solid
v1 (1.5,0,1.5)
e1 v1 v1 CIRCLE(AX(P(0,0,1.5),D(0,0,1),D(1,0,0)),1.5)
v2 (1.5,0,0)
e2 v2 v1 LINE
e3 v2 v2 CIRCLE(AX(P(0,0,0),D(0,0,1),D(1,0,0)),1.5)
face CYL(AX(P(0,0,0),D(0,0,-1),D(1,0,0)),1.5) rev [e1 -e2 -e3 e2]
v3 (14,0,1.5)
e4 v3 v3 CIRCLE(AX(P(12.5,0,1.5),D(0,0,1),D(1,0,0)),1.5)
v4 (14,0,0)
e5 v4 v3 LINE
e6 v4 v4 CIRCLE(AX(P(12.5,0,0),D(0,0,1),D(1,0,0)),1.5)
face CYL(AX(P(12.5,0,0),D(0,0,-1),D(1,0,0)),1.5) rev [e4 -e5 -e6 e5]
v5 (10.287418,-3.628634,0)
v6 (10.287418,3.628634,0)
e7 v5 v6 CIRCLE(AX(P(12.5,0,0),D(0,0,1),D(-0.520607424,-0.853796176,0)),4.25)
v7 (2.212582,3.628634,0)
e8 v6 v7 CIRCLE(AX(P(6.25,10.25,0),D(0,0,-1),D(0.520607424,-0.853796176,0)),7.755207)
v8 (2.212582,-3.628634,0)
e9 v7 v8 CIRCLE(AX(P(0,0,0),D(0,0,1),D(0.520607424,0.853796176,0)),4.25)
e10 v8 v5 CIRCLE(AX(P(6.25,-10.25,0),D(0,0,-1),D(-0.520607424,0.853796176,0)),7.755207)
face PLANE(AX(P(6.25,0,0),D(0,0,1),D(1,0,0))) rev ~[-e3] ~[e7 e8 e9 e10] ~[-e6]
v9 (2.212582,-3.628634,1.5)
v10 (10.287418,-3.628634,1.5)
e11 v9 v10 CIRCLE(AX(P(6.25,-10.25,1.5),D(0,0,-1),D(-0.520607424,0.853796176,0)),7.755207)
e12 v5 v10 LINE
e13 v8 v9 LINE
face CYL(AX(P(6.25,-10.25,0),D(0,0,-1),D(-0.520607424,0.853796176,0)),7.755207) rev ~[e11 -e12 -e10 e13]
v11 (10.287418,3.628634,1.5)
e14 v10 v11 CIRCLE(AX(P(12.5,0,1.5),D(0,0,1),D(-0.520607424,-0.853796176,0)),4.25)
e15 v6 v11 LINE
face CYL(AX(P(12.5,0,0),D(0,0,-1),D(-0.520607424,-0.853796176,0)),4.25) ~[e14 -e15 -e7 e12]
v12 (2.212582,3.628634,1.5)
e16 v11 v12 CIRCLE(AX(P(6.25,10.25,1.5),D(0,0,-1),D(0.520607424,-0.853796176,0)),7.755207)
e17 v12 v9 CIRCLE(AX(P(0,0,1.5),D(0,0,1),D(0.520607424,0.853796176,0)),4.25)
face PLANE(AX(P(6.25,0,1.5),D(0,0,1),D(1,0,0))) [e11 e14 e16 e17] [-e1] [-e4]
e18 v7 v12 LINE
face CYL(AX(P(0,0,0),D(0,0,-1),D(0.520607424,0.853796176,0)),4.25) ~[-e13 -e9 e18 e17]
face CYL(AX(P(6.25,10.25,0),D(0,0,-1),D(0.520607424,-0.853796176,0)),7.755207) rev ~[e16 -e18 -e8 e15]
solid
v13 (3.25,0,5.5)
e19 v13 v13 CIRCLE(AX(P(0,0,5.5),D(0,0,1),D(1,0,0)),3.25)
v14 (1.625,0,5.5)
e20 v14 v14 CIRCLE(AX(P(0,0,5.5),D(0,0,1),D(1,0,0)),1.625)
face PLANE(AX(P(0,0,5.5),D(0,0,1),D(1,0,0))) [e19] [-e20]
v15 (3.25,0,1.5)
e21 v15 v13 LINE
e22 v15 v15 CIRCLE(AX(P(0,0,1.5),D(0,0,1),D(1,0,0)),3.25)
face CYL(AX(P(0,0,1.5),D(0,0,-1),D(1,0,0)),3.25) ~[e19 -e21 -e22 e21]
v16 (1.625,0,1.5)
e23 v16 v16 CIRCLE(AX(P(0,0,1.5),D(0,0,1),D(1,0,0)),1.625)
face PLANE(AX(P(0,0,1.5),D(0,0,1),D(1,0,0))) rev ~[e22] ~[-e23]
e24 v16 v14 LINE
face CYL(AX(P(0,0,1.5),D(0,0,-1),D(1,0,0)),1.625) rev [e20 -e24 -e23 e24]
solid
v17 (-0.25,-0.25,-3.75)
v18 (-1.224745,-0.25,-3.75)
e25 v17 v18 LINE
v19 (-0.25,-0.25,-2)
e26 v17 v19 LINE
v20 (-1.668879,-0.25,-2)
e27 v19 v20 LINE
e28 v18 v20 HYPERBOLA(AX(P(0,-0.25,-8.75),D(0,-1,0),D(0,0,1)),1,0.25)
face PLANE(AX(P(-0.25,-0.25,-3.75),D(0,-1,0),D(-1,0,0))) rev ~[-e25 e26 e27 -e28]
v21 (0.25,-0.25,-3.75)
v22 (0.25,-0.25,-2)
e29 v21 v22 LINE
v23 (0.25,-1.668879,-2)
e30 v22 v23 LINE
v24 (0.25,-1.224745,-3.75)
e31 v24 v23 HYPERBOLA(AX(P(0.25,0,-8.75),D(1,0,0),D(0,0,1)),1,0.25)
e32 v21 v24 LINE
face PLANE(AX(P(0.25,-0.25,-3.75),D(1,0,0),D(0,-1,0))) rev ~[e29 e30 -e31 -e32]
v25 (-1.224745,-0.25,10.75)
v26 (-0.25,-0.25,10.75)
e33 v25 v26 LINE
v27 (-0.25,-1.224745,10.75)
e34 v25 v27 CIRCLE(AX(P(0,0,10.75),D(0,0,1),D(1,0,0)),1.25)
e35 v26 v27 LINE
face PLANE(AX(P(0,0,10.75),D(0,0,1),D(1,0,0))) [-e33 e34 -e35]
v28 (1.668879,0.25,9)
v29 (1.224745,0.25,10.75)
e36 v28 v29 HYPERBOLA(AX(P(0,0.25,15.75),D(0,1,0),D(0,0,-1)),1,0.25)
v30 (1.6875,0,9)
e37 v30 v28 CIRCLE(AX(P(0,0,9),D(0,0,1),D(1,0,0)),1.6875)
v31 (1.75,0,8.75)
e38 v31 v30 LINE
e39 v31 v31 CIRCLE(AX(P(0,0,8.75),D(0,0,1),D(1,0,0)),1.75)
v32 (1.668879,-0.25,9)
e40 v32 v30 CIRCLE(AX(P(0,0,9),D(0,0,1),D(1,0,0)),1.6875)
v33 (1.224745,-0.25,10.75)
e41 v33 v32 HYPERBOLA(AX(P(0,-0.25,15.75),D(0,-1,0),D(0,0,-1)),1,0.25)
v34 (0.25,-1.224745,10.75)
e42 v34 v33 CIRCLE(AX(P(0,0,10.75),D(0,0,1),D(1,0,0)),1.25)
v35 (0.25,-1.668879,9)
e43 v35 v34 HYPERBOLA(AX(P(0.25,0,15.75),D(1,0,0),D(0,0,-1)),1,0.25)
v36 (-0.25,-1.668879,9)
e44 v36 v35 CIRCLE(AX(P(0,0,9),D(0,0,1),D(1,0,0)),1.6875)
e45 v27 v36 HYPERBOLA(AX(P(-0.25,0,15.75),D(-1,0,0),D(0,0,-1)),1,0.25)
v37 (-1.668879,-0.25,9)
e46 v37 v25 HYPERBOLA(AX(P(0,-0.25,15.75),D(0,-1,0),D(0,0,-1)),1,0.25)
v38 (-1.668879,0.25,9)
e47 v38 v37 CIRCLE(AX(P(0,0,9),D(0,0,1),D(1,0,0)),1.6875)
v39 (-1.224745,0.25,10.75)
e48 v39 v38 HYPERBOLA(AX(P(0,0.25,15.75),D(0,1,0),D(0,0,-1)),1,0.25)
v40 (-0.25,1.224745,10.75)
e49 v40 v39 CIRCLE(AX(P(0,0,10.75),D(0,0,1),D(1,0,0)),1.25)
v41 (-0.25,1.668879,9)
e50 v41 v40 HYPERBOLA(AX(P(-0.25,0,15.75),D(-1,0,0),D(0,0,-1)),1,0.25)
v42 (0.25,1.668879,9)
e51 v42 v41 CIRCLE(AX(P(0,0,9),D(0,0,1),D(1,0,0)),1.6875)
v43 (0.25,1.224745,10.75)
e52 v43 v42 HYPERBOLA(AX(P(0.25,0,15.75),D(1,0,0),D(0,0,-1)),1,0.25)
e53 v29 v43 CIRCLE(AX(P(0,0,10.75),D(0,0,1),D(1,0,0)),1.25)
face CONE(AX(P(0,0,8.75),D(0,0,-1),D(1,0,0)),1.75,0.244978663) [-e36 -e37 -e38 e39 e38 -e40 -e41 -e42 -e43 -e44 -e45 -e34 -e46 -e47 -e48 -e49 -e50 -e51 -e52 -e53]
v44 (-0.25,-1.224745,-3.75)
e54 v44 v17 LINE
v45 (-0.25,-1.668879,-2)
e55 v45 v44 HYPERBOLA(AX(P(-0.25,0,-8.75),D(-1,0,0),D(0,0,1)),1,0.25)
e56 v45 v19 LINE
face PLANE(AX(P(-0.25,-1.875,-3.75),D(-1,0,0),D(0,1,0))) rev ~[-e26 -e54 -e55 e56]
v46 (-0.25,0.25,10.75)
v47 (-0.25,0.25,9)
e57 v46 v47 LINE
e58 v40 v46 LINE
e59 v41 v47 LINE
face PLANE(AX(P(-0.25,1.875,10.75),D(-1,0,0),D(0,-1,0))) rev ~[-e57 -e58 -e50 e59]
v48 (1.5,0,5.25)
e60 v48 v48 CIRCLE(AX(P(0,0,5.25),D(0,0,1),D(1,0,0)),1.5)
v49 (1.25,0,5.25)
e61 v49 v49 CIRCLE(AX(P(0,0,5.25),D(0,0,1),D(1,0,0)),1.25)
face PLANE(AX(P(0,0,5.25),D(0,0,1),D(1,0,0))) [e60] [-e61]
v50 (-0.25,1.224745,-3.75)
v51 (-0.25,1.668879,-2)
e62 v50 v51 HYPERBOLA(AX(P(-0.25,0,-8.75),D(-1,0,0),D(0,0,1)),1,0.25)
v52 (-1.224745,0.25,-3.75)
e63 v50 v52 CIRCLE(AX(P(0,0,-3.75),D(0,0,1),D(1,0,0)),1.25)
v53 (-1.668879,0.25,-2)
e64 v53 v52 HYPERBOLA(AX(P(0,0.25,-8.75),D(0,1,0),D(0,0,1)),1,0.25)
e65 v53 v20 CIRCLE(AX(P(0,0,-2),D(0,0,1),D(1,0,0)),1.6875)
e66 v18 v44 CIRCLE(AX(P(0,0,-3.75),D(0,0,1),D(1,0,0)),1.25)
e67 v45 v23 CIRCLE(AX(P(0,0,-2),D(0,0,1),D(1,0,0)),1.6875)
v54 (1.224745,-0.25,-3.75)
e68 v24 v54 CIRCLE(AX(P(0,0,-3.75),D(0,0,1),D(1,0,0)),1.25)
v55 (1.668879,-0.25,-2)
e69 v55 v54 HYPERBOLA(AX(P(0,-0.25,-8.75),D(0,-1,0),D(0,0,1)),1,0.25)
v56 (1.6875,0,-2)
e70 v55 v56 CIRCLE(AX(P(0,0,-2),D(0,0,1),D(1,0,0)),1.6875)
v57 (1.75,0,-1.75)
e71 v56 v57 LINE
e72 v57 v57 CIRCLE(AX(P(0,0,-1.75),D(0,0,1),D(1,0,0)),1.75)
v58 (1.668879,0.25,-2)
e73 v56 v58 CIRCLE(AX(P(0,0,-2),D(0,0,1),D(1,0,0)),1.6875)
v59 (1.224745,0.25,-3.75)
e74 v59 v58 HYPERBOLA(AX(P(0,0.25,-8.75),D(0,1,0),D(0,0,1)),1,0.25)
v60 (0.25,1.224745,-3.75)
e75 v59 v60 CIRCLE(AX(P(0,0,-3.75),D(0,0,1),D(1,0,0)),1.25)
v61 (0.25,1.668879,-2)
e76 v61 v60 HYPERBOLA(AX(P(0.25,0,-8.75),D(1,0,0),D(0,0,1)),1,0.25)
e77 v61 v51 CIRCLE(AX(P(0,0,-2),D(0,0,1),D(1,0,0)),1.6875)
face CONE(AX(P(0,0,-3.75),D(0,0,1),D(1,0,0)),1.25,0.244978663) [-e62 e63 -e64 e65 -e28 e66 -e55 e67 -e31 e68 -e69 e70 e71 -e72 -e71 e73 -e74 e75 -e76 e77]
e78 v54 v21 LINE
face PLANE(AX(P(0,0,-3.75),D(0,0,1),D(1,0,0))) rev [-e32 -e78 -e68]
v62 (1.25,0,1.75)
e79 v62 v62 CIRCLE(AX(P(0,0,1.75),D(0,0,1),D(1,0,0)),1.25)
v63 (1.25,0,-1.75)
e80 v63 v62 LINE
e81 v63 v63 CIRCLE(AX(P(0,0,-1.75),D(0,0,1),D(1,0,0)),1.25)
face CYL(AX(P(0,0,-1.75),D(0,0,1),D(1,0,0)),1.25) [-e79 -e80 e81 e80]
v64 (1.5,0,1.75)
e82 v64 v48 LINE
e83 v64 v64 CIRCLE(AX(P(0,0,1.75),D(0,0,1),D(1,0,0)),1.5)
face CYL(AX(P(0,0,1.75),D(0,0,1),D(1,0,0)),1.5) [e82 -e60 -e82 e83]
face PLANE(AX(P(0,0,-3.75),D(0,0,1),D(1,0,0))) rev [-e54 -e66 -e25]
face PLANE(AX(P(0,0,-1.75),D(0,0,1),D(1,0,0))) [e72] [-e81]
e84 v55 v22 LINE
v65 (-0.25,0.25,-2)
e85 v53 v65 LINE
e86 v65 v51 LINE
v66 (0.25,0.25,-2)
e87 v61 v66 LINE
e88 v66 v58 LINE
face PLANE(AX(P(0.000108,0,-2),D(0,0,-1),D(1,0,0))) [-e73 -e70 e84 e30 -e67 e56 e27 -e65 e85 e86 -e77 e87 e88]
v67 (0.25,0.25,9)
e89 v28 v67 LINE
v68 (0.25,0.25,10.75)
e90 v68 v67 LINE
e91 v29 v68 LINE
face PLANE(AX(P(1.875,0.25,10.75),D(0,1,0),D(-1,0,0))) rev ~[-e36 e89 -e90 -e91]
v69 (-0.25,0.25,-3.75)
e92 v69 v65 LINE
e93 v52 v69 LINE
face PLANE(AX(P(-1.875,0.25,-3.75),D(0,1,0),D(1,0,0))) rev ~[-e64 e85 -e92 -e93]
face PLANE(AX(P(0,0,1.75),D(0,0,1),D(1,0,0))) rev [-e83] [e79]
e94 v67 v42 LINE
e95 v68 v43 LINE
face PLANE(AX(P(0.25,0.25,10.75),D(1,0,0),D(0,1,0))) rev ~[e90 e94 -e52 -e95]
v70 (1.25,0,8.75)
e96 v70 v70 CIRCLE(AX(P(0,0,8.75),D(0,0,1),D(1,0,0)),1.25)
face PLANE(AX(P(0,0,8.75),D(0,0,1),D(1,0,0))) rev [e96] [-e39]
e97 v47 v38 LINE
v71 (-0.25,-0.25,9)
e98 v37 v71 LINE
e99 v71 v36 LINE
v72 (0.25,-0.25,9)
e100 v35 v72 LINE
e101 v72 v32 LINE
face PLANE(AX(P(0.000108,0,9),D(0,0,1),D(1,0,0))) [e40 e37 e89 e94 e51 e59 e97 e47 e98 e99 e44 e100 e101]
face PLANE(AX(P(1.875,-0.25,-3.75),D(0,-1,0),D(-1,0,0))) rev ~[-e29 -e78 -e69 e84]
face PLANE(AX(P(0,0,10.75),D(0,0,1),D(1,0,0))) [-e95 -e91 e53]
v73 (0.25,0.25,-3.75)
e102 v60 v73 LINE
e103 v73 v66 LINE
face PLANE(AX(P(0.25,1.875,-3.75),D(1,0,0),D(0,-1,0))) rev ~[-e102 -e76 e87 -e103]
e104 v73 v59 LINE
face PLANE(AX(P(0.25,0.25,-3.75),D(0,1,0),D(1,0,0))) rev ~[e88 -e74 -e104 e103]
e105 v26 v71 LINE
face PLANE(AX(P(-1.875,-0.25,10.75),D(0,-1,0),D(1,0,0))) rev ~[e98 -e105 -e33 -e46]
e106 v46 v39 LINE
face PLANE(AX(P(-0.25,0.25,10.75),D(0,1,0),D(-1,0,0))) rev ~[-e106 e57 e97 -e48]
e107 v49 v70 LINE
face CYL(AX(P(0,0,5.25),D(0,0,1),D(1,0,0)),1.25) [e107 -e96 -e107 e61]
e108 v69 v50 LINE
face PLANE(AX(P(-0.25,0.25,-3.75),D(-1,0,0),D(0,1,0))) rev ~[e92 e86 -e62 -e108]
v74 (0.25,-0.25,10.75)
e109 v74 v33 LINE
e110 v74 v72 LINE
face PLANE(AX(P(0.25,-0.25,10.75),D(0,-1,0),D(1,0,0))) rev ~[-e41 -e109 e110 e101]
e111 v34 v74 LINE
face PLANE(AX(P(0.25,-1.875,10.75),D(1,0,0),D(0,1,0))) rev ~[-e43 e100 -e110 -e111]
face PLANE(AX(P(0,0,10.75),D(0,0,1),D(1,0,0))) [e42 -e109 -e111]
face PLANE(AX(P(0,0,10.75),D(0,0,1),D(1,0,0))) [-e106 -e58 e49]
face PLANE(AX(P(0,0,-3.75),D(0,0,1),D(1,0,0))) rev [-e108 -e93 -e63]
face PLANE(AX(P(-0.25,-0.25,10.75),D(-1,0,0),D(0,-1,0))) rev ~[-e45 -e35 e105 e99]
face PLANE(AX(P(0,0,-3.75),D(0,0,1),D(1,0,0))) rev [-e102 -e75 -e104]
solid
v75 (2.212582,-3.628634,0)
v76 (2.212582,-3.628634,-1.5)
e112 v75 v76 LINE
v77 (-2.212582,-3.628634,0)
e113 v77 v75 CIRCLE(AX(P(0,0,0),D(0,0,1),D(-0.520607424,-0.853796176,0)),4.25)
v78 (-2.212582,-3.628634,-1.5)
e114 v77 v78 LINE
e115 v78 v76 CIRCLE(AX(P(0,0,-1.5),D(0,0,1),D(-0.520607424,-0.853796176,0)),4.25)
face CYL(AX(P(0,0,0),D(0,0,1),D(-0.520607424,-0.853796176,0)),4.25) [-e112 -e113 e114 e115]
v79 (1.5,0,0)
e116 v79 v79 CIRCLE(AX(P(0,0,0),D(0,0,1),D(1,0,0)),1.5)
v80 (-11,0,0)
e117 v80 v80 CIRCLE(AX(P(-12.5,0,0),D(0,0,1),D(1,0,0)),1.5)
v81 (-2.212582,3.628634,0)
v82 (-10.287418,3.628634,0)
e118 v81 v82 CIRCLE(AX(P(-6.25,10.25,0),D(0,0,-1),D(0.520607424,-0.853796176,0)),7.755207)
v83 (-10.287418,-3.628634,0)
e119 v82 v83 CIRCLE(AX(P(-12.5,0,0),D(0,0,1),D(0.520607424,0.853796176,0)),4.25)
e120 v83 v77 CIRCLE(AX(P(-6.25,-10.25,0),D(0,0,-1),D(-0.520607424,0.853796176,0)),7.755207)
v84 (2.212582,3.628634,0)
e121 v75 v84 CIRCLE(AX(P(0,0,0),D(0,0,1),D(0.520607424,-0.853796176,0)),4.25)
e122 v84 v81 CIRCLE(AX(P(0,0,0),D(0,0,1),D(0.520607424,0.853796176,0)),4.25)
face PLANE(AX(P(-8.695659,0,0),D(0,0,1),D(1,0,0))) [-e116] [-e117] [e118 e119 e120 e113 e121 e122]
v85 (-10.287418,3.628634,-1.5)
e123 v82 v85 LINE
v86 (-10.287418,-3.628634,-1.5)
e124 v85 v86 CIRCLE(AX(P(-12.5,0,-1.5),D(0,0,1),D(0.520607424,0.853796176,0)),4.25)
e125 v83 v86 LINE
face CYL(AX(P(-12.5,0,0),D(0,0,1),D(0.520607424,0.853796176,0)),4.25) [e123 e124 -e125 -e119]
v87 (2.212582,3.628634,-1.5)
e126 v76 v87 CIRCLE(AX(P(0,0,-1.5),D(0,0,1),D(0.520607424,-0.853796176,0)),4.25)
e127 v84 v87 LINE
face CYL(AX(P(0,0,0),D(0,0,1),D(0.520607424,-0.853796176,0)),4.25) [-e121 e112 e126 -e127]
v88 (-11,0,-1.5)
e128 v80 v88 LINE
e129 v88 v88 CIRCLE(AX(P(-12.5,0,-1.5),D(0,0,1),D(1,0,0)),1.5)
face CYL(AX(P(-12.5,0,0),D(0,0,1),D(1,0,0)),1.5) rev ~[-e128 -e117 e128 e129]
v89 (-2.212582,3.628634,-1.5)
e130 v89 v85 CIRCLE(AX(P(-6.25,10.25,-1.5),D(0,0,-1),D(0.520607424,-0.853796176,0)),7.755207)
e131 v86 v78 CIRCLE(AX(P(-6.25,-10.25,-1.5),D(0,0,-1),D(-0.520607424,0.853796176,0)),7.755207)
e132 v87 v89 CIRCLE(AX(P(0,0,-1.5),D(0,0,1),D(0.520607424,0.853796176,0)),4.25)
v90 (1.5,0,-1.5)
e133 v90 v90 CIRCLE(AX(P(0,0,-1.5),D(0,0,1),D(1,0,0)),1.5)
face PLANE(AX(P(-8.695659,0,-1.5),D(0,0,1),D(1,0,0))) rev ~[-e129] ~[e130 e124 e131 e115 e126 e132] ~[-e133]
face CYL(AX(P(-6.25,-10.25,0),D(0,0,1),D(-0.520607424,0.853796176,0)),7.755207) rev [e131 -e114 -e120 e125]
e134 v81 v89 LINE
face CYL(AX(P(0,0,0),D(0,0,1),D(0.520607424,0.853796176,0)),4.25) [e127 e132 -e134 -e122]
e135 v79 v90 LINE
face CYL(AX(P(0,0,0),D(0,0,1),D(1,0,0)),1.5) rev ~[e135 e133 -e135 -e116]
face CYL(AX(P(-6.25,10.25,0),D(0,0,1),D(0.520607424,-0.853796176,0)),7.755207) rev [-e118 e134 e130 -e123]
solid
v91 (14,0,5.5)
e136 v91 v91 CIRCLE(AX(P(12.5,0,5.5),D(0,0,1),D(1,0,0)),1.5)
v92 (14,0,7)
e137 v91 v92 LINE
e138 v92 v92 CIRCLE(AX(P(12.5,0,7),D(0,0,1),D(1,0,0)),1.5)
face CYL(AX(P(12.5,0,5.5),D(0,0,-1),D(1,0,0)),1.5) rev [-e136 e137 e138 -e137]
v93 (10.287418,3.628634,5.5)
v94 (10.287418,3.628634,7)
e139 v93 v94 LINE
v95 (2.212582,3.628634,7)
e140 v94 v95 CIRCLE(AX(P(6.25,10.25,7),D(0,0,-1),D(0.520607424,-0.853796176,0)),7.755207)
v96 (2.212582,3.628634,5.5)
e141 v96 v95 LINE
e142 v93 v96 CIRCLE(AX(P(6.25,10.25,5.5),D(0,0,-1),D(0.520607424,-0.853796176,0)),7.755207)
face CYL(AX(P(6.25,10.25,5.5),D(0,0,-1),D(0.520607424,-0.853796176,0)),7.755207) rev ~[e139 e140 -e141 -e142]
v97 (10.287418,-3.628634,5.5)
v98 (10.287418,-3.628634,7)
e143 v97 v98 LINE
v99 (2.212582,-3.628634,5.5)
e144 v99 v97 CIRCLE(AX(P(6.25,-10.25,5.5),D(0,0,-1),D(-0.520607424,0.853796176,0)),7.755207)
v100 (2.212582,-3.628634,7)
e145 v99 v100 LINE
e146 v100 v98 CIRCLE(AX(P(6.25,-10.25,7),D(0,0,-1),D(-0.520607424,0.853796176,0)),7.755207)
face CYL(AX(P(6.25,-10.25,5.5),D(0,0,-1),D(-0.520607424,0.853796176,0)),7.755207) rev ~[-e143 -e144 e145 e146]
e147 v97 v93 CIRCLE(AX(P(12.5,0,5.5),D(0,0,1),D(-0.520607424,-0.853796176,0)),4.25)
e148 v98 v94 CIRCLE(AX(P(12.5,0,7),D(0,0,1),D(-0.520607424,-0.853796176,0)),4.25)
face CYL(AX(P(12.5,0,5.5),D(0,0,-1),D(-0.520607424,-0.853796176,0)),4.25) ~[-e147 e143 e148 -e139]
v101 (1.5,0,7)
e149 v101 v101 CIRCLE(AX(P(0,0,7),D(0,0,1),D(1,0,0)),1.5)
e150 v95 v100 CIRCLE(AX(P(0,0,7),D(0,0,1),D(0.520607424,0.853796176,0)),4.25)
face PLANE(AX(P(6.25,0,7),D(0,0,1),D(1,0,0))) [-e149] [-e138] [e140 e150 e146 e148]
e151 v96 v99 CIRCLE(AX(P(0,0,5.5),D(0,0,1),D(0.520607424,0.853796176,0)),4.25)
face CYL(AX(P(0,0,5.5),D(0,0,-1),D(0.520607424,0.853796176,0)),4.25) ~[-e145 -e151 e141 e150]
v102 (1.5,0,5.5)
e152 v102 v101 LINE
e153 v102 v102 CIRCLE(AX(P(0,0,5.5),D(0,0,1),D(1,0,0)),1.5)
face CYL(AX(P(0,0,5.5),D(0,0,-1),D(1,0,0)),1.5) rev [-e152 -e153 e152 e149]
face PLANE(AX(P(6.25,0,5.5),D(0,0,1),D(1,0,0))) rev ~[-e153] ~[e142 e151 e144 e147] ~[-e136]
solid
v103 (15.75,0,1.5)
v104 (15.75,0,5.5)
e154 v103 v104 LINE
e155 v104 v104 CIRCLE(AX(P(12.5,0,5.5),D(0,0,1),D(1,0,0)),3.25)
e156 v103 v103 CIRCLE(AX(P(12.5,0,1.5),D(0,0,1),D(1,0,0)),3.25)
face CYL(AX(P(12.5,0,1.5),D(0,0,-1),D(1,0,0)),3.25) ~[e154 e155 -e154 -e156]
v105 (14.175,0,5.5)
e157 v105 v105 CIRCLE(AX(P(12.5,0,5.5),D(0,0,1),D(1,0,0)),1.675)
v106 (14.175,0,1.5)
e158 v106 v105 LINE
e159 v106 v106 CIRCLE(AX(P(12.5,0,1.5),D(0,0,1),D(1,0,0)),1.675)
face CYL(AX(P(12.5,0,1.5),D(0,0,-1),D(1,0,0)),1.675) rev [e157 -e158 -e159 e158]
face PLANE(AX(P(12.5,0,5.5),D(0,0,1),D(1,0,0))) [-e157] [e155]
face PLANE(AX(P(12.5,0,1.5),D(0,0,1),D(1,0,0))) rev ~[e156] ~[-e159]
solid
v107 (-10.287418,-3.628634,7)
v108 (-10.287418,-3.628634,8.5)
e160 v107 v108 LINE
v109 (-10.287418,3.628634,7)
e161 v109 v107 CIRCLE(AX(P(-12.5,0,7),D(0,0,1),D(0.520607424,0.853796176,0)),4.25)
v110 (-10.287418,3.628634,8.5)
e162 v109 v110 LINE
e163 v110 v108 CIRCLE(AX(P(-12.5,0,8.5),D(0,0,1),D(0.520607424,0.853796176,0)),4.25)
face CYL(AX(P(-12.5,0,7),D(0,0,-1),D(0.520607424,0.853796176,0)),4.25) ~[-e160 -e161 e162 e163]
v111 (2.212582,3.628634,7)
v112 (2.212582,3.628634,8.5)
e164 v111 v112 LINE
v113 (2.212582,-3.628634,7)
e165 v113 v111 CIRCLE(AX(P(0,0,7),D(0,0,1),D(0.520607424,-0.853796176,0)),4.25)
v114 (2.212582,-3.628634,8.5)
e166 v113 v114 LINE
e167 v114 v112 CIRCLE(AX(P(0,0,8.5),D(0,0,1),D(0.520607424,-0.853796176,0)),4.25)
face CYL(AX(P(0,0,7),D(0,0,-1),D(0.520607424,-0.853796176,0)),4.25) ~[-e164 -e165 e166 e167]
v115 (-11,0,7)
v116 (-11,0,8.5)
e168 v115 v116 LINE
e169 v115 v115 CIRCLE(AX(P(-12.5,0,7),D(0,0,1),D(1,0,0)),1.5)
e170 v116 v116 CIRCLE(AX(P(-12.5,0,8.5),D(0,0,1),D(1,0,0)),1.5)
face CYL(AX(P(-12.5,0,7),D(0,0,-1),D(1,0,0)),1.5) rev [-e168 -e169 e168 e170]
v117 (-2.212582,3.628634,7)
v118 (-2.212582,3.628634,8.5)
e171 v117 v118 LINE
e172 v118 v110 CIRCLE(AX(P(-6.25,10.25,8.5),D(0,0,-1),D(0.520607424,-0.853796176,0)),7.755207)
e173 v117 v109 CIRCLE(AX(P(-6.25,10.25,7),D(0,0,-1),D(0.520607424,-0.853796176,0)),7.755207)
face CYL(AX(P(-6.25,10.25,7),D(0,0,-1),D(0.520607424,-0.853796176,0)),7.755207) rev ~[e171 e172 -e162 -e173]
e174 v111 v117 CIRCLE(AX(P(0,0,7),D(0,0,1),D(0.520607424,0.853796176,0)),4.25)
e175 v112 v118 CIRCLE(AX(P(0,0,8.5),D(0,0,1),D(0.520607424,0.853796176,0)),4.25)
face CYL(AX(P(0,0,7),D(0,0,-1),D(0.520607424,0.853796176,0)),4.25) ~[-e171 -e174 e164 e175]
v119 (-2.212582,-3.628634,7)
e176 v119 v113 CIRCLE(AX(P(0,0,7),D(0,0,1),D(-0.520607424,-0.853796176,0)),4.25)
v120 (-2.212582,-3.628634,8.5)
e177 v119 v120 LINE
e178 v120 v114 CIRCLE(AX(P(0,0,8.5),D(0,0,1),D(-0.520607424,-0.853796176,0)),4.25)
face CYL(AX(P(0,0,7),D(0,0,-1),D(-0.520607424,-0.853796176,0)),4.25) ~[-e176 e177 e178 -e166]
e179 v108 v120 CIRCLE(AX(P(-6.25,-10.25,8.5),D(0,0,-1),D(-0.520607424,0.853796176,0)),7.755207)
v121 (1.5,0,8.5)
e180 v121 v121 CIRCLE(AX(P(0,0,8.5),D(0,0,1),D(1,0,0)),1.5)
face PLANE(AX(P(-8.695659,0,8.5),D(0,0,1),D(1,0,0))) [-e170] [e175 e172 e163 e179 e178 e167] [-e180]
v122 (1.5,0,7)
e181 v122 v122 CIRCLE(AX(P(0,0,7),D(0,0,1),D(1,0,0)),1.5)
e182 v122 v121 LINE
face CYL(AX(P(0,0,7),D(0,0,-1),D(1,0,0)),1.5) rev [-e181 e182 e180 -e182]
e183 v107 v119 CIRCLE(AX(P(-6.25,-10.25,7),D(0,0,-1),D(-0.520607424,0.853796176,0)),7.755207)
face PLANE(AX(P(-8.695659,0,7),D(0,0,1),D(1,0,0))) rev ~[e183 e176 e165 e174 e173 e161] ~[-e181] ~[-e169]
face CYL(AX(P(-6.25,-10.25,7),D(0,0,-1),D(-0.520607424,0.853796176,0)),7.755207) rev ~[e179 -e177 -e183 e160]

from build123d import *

# Parameters (mm, degrees)
F0_R      = 1.5
F1_DEPTH  = 1.5
F2_R      = 3.25
F2_R_2    = 1.625
F3_DEPTH  = 4
F2_R_3    = 1.675
F4_R      = 1.5
F5_DEPTH  = 1.5
F6_R      = 1.5
F7_DEPTH  = 1.5
F8_R      = 1.5
F9_DEPTH  = 1.5
F13_DEPTH = 1.75
F16_DEPTH = 1.75


with BuildPart() as f1:
    # F0 (on Top) → F1 (new body)
    with BuildSketch(Plane.XY):
        with BuildLine():
            ThreePointArc((10.2874184469, 3.6286337471), (6.25, 2.4947927965), (2.2125815531, 3.6286337471))
            ThreePointArc((2.2125815531, 3.6286337471), (-4.25, 0), (2.2125815531, -3.6286337471))
            ThreePointArc((2.2125815531, -3.6286337471), (6.25, -2.4947927965), (10.2874184469, -3.6286337471))
            ThreePointArc((10.2874184469, -3.6286337471), (16.75, 0), (10.2874184469, 3.6286337471))
        make_face()
        Circle(F0_R, mode=Mode.SUBTRACT)
        with Locations((12.5, 0)):
            Circle(F0_R, mode=Mode.SUBTRACT)
    extrude(amount=F1_DEPTH)


with BuildPart() as f3:
    # F2 (on face) → F3 (new body)
    with BuildSketch(Plane.XY.offset(1.5)):
        Circle(F2_R)
        Circle(F2_R_2, mode=Mode.SUBTRACT)
    extrude(amount=F3_DEPTH)


with BuildPart() as f3b:
    # F2 (on face) → F3, piece 2 (new body)
    with BuildSketch(Plane.XY.offset(1.5)):
        with Locations((12.5, 0)):
            Circle(F2_R)
        with Locations((12.5, 0)):
            Circle(F2_R_3, mode=Mode.SUBTRACT)
    extrude(amount=F3_DEPTH)


with BuildPart() as f5:
    # F4 (on face) → F5 (new body)
    with BuildSketch(Plane.XY.offset(5.5)):
        with BuildLine():
            ThreePointArc((10.2874184469, 3.6286337471), (6.25, 2.4947927965), (2.2125815531, 3.6286337471))
            ThreePointArc((2.2125815531, 3.6286337471), (-4.25, 0), (2.2125815531, -3.6286337471))
            ThreePointArc((2.2125815531, -3.6286337471), (6.25, -2.4947927965), (10.2874184469, -3.6286337471))
            ThreePointArc((10.2874184469, -3.6286337471), (16.75, 0), (10.2874184469, 3.6286337471))
        make_face()
        Circle(F4_R, mode=Mode.SUBTRACT)
        with Locations((12.5, 0)):
            Circle(F4_R, mode=Mode.SUBTRACT)
    extrude(amount=F5_DEPTH)


with BuildPart() as f7:
    # F6 (on face) → F7 (new body)
    with BuildSketch(Plane.XY.offset(7)):
        with BuildLine():
            ThreePointArc((-2.2125815531, 3.6286337471), (-6.25, 2.4947927965), (-10.2874184469, 3.6286337471))
            ThreePointArc((-10.2874184469, 3.6286337471), (-16.75, 0), (-10.2874184469, -3.6286337471))
            ThreePointArc((-10.2874184469, -3.6286337471), (-6.25, -2.4947927965), (-2.2125815531, -3.6286337471))
            ThreePointArc((-2.2125815531, -3.6286337471), (-4.25, 0), (-2.2125815531, 3.6286337471))
        make_face()
        with Locations((-12.5, 0)):
            Circle(F6_R, mode=Mode.SUBTRACT)
        with BuildLine():
            ThreePointArc((2.2125815531, 3.6286337471), (0, 4.25), (-2.2125815531, 3.6286337471))
            ThreePointArc((-2.2125815531, 3.6286337471), (-4.25, 0), (-2.2125815531, -3.6286337471))
            ThreePointArc((-2.2125815531, -3.6286337471), (0, -4.25), (2.2125815531, -3.6286337471))
            ThreePointArc((2.2125815531, -3.6286337471), (4.25, 0), (2.2125815531, 3.6286337471))
        make_face()
        Circle(F6_R, mode=Mode.SUBTRACT)
    extrude(amount=F7_DEPTH)


with BuildPart() as f9:
    # F8 (on face) → F9 (new body)
    with BuildSketch(Plane.XY):
        with BuildLine():
            ThreePointArc((-2.2125815531, 3.6286337471), (-6.25, 2.4947927965), (-10.2874184469, 3.6286337471))
            ThreePointArc((-10.2874184469, 3.6286337471), (-16.75, 0), (-10.2874184469, -3.6286337471))
            ThreePointArc((-10.2874184469, -3.6286337471), (-6.25, -2.4947927965), (-2.2125815531, -3.6286337471))
            ThreePointArc((-2.2125815531, -3.6286337471), (-4.25, 0), (-2.2125815531, 3.6286337471))
        make_face()
        with Locations((-12.5, 0)):
            Circle(F8_R, mode=Mode.SUBTRACT)
        with BuildLine():
            ThreePointArc((2.2125815531, 3.6286337471), (0, 4.25), (-2.2125815531, 3.6286337471))
            ThreePointArc((-2.2125815531, 3.6286337471), (-4.25, 0), (-2.2125815531, -3.6286337471))
            ThreePointArc((-2.2125815531, -3.6286337471), (0, -4.25), (2.2125815531, -3.6286337471))
            ThreePointArc((2.2125815531, -3.6286337471), (4.25, 0), (2.2125815531, 3.6286337471))
        make_face()
        Circle(F8_R, mode=Mode.SUBTRACT)
    extrude(amount=-F9_DEPTH)


with BuildPart() as f11:
    # F10 (on Front) → F11 (revolve)
    with BuildSketch(Plane.XZ):
        Polygon((1.25, 10.75), (0, 10.75), (0, -3.75), (1.25, -3.75), (1.75, -1.75), (1.25, -1.75), (1.25, 1.75), (1.5, 1.75), (1.5, 3.5), (1.5, 5.25), (1.25, 5.25), (1.25, 8.75), (1.75, 8.75), align=None)
    revolve(axis=Axis((0, 0, 3.5), (0, 0, 1)))


with BuildPart() as f13:
    # F12 (on face) → F13 (new body)
    with BuildSketch(Plane.XY.offset(10.75)):
        with BuildLine():
            ThreePointArc((1.25, 0), (1.2436701913, 0.1256362025), (1.2247448714, 0.25))
            Line((1.2247448714, 0.25), (0.25, 0.25))
            Line((0.25, 0.25), (0.25, 1.2247448714))
            ThreePointArc((0.25, 1.2247448714), (0, 1.25), (-0.25, 1.2247448714))
            Line((-0.25, 1.2247448714), (-0.25, 0.25))
            Line((-0.25, 0.25), (-1.2247448714, 0.25))
            ThreePointArc((-1.2247448714, 0.25), (-1.25, 0), (-1.2247448714, -0.25))
            Line((-1.2247448714, -0.25), (-0.25, -0.25))
            Line((-0.25, -0.25), (-0.25, -1.2247448714))
            ThreePointArc((-0.25, -1.2247448714), (0, -1.25), (0.25, -1.2247448714))
            Line((0.25, -1.2247448714), (0.25, -0.25))
            Line((0.25, -0.25), (1.2247448714, -0.25))
            ThreePointArc((1.2247448714, -0.25), (1.2436701913, -0.1256362025), (1.25, 0))
        make_face()
        with BuildLine():
            ThreePointArc((-0.25, 1.2247448714), (0, 1.25), (0.25, 1.2247448714))
            Line((0.25, 1.2247448714), (0.25, 1.875))
            Line((0.25, 1.875), (-0.25, 1.875))
            Line((-0.25, 1.875), (-0.25, 1.2247448714))
        make_face()
        with BuildLine():
            Line((1.875, -0.25), (1.875, 0.25))
            Line((1.875, 0.25), (1.2247448714, 0.25))
            ThreePointArc((1.2247448714, 0.25), (1.2436701913, 0.1256362025), (1.25, 0))
            ThreePointArc((1.25, 0), (1.2436701913, -0.1256362025), (1.2247448714, -0.25))
            Line((1.2247448714, -0.25), (1.875, -0.25))
        make_face()
        with BuildLine():
            Line((0.25, -1.875), (0.25, -1.2247448714))
            ThreePointArc((0.25, -1.2247448714), (0, -1.25), (-0.25, -1.2247448714))
            Line((-0.25, -1.2247448714), (-0.25, -1.875))
            Line((-0.25, -1.875), (0.25, -1.875))
        make_face()
        with BuildLine():
            ThreePointArc((-1.2247448714, -0.25), (-1.25, 0), (-1.2247448714, 0.25))
            Line((-1.2247448714, 0.25), (-1.875, 0.25))
            Line((-1.875, 0.25), (-1.875, -0.25))
            Line((-1.875, -0.25), (-1.2247448714, -0.25))
        make_face()
    extrude(amount=-F13_DEPTH)


with BuildPart() as f11_1:
    add(f11.part)

    # F14: cut F13
    add(f13.part, mode=Mode.SUBTRACT)


with BuildPart() as f16:
    # F15 (on face) → F16 (new body)
    with BuildSketch(Plane(origin=(0, 0, -3.75), x_dir=(1, 0, 0), z_dir=(0, 0, -1))):
        with BuildLine():
            ThreePointArc((1.25, 0), (1.2436701913, 0.1256362025), (1.2247448714, 0.25))
            Line((1.2247448714, 0.25), (0.25, 0.25))
            Line((0.25, 0.25), (0.25, 1.2247448714))
            ThreePointArc((0.25, 1.2247448714), (0, 1.25), (-0.25, 1.2247448714))
            Line((-0.25, 1.2247448714), (-0.25, 0.25))
            Line((-0.25, 0.25), (-1.2247448714, 0.25))
            ThreePointArc((-1.2247448714, 0.25), (-1.25, 0), (-1.2247448714, -0.25))
            Line((-1.2247448714, -0.25), (-0.25, -0.25))
            Line((-0.25, -0.25), (-0.25, -1.2247448714))
            ThreePointArc((-0.25, -1.2247448714), (0, -1.25), (0.25, -1.2247448714))
            Line((0.25, -1.2247448714), (0.25, -0.25))
            Line((0.25, -0.25), (1.2247448714, -0.25))
            ThreePointArc((1.2247448714, -0.25), (1.2436701913, -0.1256362025), (1.25, 0))
        make_face()
        with BuildLine():
            Line((1.875, -0.25), (1.875, 0.25))
            Line((1.875, 0.25), (1.2247448714, 0.25))
            ThreePointArc((1.2247448714, 0.25), (1.2436701913, 0.1256362025), (1.25, 0))
            ThreePointArc((1.25, 0), (1.2436701913, -0.1256362025), (1.2247448714, -0.25))
            Line((1.2247448714, -0.25), (1.875, -0.25))
        make_face()
        with BuildLine():
            Line((0.25, -1.875), (0.25, -1.2247448714))
            ThreePointArc((0.25, -1.2247448714), (0, -1.25), (-0.25, -1.2247448714))
            Line((-0.25, -1.2247448714), (-0.25, -1.875))
            Line((-0.25, -1.875), (0.25, -1.875))
        make_face()
        with BuildLine():
            ThreePointArc((-1.2247448714, -0.25), (-1.25, 0), (-1.2247448714, 0.25))
            Line((-1.2247448714, 0.25), (-1.875, 0.25))
            Line((-1.875, 0.25), (-1.875, -0.25))
            Line((-1.875, -0.25), (-1.2247448714, -0.25))
        make_face()
        with BuildLine():
            ThreePointArc((-0.25, 1.2247448714), (0, 1.25), (0.25, 1.2247448714))
            Line((0.25, 1.2247448714), (0.25, 1.875))
            Line((0.25, 1.875), (-0.25, 1.875))
            Line((-0.25, 1.875), (-0.25, 1.2247448714))
        make_face()
    extrude(amount=-F16_DEPTH)


with BuildPart() as f11_2:
    add(f11_1.part)

    # F17: cut F16
    add(f16.part, mode=Mode.SUBTRACT)


solid = Compound([f1.part, f3.part, f3b.part, f5.part, f7.part, f9.part, f11_2.part])
